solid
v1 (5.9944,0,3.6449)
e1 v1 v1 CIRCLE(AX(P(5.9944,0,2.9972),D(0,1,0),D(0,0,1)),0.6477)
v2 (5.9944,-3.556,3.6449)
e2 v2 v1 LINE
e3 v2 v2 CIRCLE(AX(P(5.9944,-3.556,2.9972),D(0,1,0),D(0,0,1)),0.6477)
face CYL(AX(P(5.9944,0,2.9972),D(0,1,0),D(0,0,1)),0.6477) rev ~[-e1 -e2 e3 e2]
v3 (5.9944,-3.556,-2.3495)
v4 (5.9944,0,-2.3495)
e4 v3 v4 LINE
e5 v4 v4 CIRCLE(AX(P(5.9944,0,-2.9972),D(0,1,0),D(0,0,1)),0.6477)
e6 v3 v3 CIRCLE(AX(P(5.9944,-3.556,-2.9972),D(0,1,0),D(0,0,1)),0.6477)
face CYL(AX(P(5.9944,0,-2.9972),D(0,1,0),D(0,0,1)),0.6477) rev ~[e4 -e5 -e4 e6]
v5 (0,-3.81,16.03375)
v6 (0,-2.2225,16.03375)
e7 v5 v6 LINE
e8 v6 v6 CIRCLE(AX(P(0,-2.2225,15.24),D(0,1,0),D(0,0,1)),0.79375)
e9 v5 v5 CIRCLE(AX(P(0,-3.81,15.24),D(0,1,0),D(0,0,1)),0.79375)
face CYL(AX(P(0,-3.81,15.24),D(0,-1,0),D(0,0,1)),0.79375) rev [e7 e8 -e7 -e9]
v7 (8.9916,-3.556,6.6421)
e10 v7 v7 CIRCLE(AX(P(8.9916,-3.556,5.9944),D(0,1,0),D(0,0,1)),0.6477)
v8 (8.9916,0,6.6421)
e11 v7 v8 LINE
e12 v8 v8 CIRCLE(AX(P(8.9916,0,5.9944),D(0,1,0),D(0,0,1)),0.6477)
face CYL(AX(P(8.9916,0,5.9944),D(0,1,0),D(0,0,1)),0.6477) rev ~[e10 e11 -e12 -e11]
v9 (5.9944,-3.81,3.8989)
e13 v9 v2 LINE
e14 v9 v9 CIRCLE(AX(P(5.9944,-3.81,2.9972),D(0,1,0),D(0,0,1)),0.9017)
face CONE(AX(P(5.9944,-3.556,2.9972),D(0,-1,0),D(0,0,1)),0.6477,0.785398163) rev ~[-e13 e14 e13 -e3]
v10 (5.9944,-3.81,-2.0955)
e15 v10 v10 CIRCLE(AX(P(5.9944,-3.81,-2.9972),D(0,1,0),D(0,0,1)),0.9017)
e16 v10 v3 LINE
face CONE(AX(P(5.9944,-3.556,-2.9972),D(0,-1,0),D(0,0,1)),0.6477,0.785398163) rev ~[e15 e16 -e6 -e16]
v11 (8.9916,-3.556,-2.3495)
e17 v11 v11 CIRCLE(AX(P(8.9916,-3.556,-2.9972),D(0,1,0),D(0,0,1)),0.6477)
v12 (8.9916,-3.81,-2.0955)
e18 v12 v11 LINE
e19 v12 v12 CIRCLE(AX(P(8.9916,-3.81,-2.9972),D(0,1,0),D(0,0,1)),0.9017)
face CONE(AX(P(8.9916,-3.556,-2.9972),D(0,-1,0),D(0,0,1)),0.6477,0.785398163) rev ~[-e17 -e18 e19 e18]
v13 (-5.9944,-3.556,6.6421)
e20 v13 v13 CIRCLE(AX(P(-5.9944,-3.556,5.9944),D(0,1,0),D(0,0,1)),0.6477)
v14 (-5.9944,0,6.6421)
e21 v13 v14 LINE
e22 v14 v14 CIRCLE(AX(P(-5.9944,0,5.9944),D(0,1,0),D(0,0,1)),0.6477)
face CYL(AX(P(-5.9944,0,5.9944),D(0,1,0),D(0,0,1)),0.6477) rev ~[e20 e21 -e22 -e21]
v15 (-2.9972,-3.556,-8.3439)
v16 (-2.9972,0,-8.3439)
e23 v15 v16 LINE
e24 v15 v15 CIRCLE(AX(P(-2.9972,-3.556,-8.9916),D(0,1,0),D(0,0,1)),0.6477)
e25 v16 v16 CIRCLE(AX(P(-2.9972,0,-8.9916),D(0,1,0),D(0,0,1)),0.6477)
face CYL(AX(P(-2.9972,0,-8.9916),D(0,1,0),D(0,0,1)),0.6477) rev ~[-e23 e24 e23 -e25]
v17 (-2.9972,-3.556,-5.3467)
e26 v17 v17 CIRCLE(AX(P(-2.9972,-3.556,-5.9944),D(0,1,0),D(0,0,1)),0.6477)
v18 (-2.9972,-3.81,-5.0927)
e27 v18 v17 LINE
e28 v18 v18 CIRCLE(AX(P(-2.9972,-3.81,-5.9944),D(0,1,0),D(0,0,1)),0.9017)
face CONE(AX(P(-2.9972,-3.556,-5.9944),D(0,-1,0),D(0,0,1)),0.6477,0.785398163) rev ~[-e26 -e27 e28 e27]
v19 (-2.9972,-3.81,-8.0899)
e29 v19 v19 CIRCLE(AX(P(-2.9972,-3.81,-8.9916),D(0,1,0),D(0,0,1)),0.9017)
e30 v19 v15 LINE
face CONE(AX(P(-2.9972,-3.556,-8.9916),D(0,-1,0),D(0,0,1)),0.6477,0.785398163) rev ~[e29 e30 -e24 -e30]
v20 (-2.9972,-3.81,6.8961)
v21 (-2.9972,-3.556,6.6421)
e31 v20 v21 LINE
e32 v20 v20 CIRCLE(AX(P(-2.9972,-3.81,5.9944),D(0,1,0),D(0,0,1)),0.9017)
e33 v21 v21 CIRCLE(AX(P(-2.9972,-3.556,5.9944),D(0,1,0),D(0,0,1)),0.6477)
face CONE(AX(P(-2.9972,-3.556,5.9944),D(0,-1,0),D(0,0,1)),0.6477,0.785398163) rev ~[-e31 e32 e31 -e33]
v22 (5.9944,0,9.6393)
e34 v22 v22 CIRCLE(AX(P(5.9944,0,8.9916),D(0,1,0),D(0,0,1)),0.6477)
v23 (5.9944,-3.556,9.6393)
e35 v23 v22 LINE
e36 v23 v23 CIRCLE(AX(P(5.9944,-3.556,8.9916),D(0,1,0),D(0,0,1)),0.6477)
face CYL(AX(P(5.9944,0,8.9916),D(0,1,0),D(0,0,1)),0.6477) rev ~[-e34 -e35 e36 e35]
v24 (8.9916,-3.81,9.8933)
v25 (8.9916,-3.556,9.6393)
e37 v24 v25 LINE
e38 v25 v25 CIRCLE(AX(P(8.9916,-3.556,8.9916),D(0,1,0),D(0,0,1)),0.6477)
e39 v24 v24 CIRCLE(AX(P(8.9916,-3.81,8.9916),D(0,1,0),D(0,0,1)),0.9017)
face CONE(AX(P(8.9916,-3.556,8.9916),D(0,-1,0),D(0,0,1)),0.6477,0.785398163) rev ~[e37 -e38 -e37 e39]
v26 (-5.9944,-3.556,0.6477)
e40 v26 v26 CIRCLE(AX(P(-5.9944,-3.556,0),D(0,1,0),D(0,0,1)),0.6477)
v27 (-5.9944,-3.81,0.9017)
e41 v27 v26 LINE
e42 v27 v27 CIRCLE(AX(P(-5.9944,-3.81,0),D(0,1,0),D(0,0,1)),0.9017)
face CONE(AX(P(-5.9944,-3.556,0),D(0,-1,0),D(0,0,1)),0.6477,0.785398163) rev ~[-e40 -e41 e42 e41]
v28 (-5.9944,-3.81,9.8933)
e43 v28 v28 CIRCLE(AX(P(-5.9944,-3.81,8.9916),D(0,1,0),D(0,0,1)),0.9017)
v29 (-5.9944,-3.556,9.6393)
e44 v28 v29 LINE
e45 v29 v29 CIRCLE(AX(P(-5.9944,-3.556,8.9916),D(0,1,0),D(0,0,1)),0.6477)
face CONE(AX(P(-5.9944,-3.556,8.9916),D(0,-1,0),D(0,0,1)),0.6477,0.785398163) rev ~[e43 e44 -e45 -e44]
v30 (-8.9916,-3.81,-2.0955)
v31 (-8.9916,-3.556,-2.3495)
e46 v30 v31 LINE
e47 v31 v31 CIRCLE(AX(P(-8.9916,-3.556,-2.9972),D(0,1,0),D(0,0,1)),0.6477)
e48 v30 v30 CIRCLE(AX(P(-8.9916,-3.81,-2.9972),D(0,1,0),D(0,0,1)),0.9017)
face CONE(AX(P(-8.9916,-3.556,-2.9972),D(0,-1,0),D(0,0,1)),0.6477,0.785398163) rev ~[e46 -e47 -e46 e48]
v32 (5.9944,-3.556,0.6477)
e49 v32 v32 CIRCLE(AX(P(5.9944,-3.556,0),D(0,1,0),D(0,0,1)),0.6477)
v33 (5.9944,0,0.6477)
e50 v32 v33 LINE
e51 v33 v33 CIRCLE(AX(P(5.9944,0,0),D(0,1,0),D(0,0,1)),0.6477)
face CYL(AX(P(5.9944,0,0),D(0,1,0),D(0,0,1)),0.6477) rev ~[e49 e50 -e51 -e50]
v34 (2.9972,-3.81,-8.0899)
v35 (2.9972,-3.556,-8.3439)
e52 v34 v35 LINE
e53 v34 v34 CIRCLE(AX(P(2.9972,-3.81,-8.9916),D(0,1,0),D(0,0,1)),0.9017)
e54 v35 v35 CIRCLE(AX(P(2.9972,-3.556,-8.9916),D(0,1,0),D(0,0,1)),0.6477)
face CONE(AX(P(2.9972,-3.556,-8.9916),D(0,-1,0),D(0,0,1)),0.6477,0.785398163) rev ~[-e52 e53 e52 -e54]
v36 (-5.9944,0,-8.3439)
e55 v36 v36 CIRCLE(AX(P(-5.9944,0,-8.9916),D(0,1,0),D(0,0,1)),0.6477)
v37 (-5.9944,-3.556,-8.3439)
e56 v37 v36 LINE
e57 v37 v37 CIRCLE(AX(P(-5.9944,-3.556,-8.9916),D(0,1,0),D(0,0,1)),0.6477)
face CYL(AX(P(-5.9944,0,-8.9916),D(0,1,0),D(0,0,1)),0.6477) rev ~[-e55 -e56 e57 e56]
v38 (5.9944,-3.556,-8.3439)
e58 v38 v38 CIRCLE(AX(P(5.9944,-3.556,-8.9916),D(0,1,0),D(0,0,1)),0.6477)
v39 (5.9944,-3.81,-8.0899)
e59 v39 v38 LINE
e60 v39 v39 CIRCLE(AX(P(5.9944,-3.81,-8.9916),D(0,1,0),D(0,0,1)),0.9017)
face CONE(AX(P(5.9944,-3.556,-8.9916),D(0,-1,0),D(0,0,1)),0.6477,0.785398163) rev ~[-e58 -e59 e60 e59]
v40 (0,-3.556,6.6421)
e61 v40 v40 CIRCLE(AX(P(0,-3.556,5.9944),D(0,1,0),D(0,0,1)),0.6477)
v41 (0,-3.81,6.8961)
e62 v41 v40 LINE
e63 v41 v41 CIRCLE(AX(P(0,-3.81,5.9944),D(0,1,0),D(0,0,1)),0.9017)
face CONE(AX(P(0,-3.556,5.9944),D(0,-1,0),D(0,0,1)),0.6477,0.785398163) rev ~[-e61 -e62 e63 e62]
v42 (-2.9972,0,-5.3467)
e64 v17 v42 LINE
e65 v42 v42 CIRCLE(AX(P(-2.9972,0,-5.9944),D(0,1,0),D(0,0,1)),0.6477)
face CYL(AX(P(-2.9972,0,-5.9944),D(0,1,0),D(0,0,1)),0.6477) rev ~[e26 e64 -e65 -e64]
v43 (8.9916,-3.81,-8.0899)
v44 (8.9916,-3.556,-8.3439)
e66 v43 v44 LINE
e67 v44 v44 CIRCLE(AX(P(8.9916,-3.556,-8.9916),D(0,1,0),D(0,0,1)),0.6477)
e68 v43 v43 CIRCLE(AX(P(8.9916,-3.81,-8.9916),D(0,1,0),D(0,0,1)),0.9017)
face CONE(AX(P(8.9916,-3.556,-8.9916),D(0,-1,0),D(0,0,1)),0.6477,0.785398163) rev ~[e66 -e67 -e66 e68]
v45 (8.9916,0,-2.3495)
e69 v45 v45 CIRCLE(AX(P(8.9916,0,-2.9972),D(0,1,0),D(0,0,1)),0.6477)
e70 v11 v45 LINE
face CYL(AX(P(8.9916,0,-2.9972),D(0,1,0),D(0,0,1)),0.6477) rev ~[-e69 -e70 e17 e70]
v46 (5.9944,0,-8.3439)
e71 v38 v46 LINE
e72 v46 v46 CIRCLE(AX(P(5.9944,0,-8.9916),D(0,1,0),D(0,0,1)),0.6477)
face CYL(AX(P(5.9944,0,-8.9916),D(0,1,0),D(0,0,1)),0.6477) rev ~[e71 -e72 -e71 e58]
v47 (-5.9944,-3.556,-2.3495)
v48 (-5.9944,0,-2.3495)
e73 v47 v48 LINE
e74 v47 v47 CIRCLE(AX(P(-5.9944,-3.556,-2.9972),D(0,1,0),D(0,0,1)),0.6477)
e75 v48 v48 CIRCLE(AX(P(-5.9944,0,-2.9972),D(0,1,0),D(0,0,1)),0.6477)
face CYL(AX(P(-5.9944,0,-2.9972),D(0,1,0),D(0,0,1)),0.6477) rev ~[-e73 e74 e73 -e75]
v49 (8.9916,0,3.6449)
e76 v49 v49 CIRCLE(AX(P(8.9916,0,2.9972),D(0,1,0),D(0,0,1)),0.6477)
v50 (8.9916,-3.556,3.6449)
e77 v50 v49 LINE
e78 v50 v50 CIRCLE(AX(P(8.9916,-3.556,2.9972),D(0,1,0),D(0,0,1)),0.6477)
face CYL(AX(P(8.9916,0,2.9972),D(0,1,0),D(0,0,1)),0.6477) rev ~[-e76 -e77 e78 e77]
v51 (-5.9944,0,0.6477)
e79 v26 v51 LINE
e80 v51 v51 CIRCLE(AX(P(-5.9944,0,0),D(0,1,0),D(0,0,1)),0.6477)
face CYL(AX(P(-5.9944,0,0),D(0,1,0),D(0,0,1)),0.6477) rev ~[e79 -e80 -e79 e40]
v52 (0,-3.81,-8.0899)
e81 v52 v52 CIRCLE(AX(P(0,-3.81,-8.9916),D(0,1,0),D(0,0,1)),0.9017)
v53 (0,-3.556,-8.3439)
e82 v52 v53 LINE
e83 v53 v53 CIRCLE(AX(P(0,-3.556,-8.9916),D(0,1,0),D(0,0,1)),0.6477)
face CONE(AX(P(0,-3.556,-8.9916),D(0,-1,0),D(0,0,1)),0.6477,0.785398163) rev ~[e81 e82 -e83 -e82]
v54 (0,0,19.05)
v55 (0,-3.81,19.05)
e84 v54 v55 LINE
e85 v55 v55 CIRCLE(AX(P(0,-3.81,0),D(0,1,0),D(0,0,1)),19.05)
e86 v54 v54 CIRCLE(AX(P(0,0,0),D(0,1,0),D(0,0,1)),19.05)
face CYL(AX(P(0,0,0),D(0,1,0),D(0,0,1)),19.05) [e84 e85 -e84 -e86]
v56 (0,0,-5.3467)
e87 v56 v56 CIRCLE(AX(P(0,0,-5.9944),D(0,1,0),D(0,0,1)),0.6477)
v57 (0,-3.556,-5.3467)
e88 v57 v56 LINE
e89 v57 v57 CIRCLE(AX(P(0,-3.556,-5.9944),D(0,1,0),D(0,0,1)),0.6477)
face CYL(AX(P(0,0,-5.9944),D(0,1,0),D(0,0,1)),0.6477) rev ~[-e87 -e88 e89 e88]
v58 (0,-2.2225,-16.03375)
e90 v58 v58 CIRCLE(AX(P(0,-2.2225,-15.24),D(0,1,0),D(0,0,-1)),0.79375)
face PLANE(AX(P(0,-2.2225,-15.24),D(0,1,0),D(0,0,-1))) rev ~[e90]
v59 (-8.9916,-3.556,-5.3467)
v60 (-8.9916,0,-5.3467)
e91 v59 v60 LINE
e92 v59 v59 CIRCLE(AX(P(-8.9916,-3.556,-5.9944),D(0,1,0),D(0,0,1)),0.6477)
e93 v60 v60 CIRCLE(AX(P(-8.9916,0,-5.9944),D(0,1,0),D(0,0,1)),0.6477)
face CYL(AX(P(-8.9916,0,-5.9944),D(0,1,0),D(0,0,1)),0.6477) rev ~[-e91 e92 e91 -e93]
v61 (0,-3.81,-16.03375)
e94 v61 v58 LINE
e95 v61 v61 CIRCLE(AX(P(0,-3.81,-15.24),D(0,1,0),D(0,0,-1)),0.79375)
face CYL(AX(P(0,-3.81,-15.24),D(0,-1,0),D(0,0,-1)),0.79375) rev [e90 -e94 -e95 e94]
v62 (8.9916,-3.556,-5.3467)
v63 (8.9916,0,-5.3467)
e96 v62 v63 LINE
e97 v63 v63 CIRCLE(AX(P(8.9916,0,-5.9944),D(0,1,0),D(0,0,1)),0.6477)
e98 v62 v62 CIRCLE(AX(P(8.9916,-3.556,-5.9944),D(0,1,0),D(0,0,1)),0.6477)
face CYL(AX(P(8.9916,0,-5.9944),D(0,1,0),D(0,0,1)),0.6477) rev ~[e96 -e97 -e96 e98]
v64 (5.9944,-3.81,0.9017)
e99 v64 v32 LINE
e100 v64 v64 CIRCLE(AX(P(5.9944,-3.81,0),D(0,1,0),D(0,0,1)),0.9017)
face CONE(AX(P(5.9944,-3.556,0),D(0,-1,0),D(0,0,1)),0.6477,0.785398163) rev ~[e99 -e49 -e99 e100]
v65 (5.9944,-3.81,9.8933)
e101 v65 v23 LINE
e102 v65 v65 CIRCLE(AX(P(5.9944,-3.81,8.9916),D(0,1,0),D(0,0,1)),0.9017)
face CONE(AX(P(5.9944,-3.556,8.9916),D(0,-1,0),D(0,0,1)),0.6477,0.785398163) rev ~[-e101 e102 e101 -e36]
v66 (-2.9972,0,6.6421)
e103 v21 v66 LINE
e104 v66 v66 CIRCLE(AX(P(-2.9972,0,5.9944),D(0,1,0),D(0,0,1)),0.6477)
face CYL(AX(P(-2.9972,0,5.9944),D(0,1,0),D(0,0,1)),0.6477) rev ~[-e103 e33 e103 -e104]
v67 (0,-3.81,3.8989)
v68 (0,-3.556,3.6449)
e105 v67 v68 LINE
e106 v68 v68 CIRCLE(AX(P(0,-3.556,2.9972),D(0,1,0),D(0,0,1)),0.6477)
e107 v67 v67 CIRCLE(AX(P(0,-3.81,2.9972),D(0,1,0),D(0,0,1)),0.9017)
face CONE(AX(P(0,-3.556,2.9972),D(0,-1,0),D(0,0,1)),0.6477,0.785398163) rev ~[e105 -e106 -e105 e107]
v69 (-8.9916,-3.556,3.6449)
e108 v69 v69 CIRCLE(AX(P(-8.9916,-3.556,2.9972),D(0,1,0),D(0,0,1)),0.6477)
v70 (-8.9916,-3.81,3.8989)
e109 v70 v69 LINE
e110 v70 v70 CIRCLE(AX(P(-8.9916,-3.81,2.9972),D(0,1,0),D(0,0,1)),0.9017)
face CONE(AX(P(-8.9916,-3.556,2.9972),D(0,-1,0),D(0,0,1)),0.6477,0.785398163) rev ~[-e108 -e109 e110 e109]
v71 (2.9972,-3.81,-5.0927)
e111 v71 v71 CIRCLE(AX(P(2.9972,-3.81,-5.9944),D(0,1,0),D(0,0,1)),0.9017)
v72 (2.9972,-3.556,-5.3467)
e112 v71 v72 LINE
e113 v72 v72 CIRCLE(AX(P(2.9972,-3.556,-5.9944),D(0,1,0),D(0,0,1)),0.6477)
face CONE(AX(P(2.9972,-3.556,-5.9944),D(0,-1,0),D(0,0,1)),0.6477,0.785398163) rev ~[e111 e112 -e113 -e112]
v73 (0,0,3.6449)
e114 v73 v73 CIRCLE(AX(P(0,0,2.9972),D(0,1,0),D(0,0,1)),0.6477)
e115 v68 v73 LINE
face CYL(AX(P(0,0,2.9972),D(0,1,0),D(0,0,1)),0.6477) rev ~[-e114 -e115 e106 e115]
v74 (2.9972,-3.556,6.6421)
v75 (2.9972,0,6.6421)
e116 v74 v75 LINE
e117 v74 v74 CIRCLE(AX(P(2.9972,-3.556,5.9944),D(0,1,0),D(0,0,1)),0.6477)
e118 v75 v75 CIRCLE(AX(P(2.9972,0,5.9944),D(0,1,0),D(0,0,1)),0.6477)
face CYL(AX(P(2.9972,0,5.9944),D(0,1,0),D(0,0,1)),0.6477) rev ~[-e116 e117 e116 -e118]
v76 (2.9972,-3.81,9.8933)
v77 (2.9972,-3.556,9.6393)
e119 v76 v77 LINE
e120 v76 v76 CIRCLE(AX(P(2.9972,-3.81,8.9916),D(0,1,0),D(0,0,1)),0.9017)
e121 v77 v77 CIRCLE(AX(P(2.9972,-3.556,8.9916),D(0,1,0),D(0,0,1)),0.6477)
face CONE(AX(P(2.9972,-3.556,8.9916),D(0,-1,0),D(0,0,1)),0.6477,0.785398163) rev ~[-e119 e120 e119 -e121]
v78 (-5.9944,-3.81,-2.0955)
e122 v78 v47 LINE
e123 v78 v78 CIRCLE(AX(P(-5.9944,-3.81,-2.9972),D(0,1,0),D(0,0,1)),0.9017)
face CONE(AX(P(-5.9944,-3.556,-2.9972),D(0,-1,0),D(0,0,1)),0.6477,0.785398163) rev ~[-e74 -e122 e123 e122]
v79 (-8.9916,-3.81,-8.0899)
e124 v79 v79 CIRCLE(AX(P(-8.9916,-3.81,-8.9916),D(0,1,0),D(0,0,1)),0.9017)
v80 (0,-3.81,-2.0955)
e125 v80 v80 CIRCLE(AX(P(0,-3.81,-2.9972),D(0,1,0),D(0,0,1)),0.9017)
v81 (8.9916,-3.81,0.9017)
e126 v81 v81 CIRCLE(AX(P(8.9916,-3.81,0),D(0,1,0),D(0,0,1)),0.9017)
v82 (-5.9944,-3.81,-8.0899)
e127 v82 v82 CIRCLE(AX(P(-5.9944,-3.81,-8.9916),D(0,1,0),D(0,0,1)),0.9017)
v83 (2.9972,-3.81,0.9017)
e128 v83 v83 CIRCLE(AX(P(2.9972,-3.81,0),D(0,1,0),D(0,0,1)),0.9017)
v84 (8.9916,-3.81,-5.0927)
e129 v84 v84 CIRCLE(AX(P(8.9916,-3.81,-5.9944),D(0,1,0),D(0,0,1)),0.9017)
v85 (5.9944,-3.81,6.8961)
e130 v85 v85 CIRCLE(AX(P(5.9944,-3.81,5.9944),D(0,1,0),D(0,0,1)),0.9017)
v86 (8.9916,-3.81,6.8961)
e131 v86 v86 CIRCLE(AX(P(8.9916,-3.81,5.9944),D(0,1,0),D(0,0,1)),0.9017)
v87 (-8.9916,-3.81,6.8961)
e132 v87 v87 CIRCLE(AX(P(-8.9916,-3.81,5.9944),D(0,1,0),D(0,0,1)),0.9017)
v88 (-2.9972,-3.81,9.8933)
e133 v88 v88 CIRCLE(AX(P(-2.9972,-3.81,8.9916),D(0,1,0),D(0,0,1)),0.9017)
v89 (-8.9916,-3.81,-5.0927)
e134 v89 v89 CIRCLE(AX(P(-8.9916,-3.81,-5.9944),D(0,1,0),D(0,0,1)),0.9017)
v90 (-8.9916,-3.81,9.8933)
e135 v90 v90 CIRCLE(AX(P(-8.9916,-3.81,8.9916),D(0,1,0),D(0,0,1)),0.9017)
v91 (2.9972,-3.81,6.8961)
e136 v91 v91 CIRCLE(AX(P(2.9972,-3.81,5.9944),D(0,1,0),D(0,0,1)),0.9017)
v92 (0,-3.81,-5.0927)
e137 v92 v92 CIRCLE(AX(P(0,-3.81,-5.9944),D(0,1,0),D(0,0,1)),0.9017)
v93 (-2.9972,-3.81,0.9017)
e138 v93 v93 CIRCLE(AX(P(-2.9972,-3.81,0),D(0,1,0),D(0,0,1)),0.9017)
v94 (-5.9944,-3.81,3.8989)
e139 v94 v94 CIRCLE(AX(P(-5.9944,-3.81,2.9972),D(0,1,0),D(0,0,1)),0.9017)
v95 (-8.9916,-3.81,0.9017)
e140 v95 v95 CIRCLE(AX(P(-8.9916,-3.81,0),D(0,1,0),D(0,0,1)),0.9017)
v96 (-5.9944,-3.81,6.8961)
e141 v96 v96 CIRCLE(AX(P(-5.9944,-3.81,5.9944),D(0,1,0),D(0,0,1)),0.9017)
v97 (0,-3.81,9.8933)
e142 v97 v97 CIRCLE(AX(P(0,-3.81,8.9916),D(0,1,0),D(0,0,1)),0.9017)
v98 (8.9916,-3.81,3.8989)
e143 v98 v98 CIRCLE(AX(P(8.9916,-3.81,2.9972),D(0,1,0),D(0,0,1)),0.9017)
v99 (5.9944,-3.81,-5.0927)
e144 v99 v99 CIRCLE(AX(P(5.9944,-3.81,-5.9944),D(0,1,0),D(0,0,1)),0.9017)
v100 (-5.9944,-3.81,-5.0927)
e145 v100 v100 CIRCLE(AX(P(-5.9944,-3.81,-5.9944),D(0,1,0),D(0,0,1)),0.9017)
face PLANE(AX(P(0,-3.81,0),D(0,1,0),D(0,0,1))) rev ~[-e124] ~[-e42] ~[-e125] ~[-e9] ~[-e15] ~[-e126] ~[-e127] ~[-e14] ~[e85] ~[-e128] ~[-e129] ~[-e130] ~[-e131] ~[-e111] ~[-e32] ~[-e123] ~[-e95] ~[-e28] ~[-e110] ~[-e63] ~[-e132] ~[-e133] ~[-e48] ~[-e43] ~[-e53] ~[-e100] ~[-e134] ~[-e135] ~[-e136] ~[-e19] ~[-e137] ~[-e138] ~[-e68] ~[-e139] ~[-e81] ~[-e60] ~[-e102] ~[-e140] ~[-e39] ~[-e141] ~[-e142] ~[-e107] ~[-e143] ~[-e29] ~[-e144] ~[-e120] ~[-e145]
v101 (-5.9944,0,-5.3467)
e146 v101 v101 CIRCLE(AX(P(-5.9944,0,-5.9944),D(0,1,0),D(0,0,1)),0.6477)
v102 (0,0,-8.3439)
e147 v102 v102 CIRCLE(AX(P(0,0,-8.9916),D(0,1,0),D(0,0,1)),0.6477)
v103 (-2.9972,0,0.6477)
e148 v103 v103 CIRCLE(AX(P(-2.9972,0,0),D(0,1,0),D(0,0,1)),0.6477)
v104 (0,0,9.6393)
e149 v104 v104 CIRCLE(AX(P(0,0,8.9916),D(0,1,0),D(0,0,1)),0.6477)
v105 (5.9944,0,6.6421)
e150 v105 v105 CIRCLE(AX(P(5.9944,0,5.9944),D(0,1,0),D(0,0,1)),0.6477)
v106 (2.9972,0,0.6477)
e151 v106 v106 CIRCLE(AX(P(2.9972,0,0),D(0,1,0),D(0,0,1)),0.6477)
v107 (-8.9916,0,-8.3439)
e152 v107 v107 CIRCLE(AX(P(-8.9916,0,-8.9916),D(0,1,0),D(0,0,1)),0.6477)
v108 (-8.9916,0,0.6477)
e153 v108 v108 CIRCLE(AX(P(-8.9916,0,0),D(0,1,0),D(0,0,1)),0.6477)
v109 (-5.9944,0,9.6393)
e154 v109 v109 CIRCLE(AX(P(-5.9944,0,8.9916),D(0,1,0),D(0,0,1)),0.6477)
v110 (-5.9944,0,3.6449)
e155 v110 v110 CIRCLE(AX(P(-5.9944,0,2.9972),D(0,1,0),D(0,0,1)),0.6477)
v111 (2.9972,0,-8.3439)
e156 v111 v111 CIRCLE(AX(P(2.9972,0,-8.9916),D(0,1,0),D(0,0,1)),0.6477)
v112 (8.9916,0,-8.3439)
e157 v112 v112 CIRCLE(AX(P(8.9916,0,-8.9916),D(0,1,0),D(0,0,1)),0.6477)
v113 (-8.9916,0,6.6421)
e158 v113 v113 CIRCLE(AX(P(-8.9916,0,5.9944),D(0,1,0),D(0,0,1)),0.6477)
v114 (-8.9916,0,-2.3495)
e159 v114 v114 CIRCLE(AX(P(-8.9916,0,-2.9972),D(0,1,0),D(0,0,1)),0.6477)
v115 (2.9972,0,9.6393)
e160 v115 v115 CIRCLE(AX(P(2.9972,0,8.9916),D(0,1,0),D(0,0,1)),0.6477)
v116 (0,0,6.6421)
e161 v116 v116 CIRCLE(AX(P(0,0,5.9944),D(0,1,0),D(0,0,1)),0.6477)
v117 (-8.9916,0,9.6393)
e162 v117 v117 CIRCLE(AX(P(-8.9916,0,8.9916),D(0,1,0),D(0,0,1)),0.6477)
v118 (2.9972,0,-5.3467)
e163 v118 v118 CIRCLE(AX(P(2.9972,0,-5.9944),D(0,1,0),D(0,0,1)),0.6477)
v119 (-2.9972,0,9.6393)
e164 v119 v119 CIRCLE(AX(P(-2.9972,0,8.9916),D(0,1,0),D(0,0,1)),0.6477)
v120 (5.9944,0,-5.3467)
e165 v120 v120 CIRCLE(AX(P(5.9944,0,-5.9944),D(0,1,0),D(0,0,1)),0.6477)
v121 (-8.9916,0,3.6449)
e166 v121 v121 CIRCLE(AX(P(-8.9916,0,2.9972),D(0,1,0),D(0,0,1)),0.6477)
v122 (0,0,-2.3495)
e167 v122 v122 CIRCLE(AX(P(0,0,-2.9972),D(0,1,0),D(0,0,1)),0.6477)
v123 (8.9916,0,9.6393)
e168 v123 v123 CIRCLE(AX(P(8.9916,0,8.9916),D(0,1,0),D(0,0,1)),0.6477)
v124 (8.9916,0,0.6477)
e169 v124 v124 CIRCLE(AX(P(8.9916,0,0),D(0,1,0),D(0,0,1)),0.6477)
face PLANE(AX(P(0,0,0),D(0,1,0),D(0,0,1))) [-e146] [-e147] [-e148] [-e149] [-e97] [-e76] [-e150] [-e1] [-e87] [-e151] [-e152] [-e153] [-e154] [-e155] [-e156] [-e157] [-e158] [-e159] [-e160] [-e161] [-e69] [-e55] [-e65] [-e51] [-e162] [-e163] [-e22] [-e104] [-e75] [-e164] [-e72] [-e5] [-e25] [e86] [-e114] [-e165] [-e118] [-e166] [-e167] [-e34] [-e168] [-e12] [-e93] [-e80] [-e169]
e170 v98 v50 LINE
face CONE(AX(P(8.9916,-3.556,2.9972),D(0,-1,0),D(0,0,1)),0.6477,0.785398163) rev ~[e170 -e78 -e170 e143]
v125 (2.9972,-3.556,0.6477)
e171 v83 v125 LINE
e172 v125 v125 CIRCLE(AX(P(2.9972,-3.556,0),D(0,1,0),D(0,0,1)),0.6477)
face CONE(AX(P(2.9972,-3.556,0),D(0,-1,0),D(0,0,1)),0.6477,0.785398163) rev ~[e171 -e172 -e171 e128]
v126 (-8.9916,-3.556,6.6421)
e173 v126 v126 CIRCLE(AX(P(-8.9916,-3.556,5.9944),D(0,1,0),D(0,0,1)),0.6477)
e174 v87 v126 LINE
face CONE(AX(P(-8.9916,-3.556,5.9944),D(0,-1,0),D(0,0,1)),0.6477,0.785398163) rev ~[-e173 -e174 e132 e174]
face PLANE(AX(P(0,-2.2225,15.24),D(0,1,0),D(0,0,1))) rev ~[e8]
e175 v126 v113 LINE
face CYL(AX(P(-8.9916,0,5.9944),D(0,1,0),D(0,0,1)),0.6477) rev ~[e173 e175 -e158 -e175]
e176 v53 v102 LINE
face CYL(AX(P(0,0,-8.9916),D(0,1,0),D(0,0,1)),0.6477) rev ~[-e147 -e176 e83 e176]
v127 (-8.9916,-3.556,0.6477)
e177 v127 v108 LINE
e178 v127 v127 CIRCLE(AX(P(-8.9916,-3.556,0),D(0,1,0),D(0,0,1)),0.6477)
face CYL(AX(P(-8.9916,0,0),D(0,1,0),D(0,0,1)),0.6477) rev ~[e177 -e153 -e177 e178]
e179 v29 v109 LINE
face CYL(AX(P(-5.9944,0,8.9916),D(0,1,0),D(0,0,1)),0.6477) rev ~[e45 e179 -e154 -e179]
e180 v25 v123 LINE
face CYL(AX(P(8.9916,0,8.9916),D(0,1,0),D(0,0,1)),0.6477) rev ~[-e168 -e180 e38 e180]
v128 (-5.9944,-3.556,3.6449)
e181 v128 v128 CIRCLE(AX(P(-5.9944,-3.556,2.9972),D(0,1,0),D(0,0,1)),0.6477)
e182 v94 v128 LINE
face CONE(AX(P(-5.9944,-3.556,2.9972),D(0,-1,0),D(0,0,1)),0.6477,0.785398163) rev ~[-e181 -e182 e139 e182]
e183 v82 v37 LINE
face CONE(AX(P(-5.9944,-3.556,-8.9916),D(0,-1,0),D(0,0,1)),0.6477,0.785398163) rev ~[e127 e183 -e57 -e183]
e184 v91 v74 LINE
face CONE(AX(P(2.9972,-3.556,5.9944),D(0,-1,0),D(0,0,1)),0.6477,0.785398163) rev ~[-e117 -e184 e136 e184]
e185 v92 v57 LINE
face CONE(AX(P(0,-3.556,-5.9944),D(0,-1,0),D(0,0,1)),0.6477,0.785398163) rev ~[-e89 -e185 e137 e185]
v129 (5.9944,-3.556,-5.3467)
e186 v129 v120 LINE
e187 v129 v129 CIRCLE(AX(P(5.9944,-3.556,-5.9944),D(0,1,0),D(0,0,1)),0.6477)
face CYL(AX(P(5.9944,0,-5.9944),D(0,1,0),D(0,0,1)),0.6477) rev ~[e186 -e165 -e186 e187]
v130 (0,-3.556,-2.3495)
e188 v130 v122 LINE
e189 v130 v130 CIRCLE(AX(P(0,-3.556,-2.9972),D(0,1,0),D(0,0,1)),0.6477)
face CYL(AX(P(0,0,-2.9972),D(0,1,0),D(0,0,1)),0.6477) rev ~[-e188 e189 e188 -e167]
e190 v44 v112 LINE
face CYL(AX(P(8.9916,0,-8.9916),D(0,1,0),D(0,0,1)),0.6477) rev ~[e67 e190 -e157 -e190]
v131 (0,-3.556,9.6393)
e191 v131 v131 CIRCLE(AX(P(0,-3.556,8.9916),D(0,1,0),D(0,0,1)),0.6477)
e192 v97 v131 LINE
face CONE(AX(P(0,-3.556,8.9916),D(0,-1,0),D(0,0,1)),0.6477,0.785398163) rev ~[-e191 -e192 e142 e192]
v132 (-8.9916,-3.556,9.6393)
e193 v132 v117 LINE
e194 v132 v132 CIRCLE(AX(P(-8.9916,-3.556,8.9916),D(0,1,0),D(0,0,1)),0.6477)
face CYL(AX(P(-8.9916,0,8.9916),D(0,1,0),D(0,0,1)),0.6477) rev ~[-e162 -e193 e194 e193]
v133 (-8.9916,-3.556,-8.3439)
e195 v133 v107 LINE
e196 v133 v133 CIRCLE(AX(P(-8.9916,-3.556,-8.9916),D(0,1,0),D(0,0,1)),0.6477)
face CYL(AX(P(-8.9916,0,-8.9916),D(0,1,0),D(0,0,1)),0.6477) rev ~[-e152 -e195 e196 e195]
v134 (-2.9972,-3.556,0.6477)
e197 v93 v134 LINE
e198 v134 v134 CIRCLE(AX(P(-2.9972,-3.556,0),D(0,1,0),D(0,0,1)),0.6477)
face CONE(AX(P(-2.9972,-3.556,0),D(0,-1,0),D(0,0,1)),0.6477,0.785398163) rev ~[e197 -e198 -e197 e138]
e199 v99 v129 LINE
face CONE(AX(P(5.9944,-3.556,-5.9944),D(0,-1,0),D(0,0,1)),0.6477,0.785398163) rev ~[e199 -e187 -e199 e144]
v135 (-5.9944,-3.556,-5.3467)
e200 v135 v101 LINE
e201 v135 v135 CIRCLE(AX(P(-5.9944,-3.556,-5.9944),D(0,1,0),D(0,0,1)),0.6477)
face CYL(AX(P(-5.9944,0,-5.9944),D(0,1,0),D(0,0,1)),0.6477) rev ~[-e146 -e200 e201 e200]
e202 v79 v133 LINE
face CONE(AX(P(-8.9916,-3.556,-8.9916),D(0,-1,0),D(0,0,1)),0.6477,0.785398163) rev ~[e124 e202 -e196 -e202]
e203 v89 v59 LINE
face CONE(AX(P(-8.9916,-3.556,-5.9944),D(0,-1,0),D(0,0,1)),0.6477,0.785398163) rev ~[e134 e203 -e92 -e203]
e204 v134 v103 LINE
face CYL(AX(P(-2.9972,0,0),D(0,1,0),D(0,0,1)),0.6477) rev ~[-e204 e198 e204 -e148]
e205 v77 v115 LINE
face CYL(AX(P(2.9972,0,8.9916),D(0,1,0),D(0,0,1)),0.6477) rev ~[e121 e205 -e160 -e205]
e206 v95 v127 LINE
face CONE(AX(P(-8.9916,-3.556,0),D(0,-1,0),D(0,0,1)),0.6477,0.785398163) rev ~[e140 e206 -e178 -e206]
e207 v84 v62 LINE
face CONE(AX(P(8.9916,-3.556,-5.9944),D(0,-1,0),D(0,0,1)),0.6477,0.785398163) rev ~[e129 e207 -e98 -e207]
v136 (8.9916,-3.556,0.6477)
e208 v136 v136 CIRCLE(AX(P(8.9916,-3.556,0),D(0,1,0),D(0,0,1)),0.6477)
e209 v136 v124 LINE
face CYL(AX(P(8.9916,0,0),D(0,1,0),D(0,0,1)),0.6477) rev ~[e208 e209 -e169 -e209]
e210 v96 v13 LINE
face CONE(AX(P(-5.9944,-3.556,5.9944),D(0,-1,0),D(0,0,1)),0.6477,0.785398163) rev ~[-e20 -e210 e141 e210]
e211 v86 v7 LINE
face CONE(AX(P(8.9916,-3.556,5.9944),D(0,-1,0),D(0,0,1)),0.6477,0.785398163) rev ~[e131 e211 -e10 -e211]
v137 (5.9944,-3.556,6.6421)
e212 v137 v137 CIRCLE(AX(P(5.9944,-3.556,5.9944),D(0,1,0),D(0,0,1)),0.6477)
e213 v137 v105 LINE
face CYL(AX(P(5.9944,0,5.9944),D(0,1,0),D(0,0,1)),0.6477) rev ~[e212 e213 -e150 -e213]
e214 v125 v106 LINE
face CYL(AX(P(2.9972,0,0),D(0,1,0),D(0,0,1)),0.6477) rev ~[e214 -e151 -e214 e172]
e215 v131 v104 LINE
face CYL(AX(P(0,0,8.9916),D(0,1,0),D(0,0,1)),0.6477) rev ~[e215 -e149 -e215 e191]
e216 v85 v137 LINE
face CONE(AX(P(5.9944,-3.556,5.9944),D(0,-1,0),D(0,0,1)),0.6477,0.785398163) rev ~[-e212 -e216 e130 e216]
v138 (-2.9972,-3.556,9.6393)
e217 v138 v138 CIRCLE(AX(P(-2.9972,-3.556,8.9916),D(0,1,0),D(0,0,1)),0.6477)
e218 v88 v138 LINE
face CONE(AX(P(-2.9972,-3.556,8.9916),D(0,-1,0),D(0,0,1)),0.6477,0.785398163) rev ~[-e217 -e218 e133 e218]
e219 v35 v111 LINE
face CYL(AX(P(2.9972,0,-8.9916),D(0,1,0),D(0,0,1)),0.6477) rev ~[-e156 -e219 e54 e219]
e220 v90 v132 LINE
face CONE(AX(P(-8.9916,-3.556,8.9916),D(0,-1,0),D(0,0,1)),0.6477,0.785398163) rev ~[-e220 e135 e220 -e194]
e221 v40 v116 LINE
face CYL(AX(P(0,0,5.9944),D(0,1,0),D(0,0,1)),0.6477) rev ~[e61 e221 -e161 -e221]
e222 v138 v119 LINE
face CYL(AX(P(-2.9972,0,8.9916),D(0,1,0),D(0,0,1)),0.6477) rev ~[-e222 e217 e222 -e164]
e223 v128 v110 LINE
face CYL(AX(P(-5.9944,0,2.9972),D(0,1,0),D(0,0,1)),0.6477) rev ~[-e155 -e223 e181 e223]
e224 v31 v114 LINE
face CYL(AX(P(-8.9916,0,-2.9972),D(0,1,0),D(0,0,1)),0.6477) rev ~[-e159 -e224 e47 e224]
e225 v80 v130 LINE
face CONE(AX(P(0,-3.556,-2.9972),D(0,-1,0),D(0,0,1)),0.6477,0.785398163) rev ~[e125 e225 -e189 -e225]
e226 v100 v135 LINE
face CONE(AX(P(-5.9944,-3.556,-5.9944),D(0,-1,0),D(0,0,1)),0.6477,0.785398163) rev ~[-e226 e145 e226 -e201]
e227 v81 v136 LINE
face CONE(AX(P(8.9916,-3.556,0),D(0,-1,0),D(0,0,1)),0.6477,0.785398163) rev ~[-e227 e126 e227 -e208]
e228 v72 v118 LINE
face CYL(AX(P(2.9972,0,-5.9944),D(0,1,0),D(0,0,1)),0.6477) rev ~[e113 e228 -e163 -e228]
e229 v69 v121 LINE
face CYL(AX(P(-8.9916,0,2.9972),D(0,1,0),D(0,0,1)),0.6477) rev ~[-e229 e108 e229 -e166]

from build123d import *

# Parameters (mm, degrees)
SKETCH1_R                                 = 19.05
BILLET_DEPTH                              = 3.81
SKETCH2_R                                 = 0.6477
FIRST_LOX_HOLE_DEPTH                      = 28.208842313
BRAISING_CHAMFER_SIZE                     = 0.254
LOX_HOLE_PATTERN_COUNT                    = 7
LOX_HOLE_PATTERN_PITCH                    = 2.9972
LOX_HOLE_PATTERN_COUNT_DIR2               = 7
LOX_HOLE_PATTERN_PITCH_DIR2               = 2.9972
BRAISING_CHAMFER_OF_LOX_HOLE_PATTERN_SIZE = 0.254
SKETCH3_R                                 = 0.79375
DOWEL_HOLE_DEPTH                          = 1.5875


with BuildPart() as part:
    # Sketch1 → Billet (new body)
    with BuildSketch(Plane(origin=(0, 0, 0), x_dir=(1, 0, 0), z_dir=(0, 1, 0))):
        Circle(SKETCH1_R)
    extrude(amount=-BILLET_DEPTH)

    # Sketch2 → First Lox Hole (cut, symmetric)
    with BuildSketch(Plane(origin=(0, 0, 0), x_dir=(1, 0, 0), z_dir=(0, 1, 0))):
        with Locations((8.9916, 8.9916)):
            Circle(SKETCH2_R)
    first_lox_hole = extrude(amount=FIRST_LOX_HOLE_DEPTH, both=True, mode=Mode.SUBTRACT)

    # Braising Chamfer
    braising_chamfer_edges = [part.edges().sort_by_distance(p)[0] for p in [
        (8.3439, -3.81, -8.9916),
    ]]
    chamfer(braising_chamfer_edges, length=BRAISING_CHAMFER_SIZE)

    # Lox Hole Pattern: First Lox Hole 7 × 7, 5 skipped
    with Locations(*[(-i * LOX_HOLE_PATTERN_PITCH, 0, j * LOX_HOLE_PATTERN_PITCH_DIR2) for i in range(LOX_HOLE_PATTERN_COUNT) for j in range(LOX_HOLE_PATTERN_COUNT_DIR2) if (i, j) not in ((0, 0), (2, 2), (2, 4), (3, 3), (4, 2), (4, 4))]):
        add(first_lox_hole, mode=Mode.SUBTRACT)

    # Braising Chamfer of Lox Hole Pattern
    braising_chamfer_of_lox_hole_pattern_edges = [part.edges().sort_by_distance(p)[0] for p in [
        (8.3439, -3.81, -5.9944),
        (8.3439, -3.81, -2.9972),
        (8.3439, -3.81, 0),
        (8.3439, -3.81, 2.9972),
        (8.3439, -3.81, 5.9944),
        (8.3439, -3.81, 8.9916),
        (5.3467, -3.81, -8.9916),
        (5.3467, -3.81, -5.9944),
        (5.3467, -3.81, -2.9972),
        (5.3467, -3.81, 0),
        (5.3467, -3.81, 2.9972),
        (5.3467, -3.81, 5.9944),
        (5.3467, -3.81, 8.9916),
        (2.3495, -3.81, -8.9916),
        (2.3495, -3.81, -5.9944),
        (2.3495, -3.81, 0),
        (2.3495, -3.81, 5.9944),
        (2.3495, -3.81, 8.9916),
        (-0.6477, -3.81, -8.9916),
        (-0.6477, -3.81, -5.9944),
        (-0.6477, -3.81, -2.9972),
        (-0.6477, -3.81, 2.9972),
        (-0.6477, -3.81, 5.9944),
        (-0.6477, -3.81, 8.9916),
        (-3.6449, -3.81, -8.9916),
        (-3.6449, -3.81, -5.9944),
        (-3.6449, -3.81, 0),
        (-3.6449, -3.81, 5.9944),
        (-3.6449, -3.81, 8.9916),
        (-6.6421, -3.81, -8.9916),
        (-6.6421, -3.81, -5.9944),
        (-6.6421, -3.81, -2.9972),
        (-6.6421, -3.81, 0),
        (-6.6421, -3.81, 2.9972),
        (-6.6421, -3.81, 5.9944),
        (-6.6421, -3.81, 8.9916),
        (-9.6393, -3.81, -8.9916),
        (-9.6393, -3.81, -5.9944),
        (-9.6393, -3.81, -2.9972),
        (-9.6393, -3.81, 0),
        (-9.6393, -3.81, 2.9972),
        (-9.6393, -3.81, 5.9944),
        (-9.6393, -3.81, 8.9916),
    ]]
    chamfer(braising_chamfer_of_lox_hole_pattern_edges, length=BRAISING_CHAMFER_OF_LOX_HOLE_PATTERN_SIZE)

    # Sketch3 → Dowel Hole (cut)
    with BuildSketch(Plane(origin=(0, -3.81, 0), x_dir=(-1, 0, 0), z_dir=(0, 1, 0))):
        with Locations((0, 15.24)):
            Circle(SKETCH3_R)
        with Locations((0, -15.24)):
            Circle(SKETCH3_R)
    extrude(amount=DOWEL_HOLE_DEPTH, mode=Mode.SUBTRACT)


solid = part.part
